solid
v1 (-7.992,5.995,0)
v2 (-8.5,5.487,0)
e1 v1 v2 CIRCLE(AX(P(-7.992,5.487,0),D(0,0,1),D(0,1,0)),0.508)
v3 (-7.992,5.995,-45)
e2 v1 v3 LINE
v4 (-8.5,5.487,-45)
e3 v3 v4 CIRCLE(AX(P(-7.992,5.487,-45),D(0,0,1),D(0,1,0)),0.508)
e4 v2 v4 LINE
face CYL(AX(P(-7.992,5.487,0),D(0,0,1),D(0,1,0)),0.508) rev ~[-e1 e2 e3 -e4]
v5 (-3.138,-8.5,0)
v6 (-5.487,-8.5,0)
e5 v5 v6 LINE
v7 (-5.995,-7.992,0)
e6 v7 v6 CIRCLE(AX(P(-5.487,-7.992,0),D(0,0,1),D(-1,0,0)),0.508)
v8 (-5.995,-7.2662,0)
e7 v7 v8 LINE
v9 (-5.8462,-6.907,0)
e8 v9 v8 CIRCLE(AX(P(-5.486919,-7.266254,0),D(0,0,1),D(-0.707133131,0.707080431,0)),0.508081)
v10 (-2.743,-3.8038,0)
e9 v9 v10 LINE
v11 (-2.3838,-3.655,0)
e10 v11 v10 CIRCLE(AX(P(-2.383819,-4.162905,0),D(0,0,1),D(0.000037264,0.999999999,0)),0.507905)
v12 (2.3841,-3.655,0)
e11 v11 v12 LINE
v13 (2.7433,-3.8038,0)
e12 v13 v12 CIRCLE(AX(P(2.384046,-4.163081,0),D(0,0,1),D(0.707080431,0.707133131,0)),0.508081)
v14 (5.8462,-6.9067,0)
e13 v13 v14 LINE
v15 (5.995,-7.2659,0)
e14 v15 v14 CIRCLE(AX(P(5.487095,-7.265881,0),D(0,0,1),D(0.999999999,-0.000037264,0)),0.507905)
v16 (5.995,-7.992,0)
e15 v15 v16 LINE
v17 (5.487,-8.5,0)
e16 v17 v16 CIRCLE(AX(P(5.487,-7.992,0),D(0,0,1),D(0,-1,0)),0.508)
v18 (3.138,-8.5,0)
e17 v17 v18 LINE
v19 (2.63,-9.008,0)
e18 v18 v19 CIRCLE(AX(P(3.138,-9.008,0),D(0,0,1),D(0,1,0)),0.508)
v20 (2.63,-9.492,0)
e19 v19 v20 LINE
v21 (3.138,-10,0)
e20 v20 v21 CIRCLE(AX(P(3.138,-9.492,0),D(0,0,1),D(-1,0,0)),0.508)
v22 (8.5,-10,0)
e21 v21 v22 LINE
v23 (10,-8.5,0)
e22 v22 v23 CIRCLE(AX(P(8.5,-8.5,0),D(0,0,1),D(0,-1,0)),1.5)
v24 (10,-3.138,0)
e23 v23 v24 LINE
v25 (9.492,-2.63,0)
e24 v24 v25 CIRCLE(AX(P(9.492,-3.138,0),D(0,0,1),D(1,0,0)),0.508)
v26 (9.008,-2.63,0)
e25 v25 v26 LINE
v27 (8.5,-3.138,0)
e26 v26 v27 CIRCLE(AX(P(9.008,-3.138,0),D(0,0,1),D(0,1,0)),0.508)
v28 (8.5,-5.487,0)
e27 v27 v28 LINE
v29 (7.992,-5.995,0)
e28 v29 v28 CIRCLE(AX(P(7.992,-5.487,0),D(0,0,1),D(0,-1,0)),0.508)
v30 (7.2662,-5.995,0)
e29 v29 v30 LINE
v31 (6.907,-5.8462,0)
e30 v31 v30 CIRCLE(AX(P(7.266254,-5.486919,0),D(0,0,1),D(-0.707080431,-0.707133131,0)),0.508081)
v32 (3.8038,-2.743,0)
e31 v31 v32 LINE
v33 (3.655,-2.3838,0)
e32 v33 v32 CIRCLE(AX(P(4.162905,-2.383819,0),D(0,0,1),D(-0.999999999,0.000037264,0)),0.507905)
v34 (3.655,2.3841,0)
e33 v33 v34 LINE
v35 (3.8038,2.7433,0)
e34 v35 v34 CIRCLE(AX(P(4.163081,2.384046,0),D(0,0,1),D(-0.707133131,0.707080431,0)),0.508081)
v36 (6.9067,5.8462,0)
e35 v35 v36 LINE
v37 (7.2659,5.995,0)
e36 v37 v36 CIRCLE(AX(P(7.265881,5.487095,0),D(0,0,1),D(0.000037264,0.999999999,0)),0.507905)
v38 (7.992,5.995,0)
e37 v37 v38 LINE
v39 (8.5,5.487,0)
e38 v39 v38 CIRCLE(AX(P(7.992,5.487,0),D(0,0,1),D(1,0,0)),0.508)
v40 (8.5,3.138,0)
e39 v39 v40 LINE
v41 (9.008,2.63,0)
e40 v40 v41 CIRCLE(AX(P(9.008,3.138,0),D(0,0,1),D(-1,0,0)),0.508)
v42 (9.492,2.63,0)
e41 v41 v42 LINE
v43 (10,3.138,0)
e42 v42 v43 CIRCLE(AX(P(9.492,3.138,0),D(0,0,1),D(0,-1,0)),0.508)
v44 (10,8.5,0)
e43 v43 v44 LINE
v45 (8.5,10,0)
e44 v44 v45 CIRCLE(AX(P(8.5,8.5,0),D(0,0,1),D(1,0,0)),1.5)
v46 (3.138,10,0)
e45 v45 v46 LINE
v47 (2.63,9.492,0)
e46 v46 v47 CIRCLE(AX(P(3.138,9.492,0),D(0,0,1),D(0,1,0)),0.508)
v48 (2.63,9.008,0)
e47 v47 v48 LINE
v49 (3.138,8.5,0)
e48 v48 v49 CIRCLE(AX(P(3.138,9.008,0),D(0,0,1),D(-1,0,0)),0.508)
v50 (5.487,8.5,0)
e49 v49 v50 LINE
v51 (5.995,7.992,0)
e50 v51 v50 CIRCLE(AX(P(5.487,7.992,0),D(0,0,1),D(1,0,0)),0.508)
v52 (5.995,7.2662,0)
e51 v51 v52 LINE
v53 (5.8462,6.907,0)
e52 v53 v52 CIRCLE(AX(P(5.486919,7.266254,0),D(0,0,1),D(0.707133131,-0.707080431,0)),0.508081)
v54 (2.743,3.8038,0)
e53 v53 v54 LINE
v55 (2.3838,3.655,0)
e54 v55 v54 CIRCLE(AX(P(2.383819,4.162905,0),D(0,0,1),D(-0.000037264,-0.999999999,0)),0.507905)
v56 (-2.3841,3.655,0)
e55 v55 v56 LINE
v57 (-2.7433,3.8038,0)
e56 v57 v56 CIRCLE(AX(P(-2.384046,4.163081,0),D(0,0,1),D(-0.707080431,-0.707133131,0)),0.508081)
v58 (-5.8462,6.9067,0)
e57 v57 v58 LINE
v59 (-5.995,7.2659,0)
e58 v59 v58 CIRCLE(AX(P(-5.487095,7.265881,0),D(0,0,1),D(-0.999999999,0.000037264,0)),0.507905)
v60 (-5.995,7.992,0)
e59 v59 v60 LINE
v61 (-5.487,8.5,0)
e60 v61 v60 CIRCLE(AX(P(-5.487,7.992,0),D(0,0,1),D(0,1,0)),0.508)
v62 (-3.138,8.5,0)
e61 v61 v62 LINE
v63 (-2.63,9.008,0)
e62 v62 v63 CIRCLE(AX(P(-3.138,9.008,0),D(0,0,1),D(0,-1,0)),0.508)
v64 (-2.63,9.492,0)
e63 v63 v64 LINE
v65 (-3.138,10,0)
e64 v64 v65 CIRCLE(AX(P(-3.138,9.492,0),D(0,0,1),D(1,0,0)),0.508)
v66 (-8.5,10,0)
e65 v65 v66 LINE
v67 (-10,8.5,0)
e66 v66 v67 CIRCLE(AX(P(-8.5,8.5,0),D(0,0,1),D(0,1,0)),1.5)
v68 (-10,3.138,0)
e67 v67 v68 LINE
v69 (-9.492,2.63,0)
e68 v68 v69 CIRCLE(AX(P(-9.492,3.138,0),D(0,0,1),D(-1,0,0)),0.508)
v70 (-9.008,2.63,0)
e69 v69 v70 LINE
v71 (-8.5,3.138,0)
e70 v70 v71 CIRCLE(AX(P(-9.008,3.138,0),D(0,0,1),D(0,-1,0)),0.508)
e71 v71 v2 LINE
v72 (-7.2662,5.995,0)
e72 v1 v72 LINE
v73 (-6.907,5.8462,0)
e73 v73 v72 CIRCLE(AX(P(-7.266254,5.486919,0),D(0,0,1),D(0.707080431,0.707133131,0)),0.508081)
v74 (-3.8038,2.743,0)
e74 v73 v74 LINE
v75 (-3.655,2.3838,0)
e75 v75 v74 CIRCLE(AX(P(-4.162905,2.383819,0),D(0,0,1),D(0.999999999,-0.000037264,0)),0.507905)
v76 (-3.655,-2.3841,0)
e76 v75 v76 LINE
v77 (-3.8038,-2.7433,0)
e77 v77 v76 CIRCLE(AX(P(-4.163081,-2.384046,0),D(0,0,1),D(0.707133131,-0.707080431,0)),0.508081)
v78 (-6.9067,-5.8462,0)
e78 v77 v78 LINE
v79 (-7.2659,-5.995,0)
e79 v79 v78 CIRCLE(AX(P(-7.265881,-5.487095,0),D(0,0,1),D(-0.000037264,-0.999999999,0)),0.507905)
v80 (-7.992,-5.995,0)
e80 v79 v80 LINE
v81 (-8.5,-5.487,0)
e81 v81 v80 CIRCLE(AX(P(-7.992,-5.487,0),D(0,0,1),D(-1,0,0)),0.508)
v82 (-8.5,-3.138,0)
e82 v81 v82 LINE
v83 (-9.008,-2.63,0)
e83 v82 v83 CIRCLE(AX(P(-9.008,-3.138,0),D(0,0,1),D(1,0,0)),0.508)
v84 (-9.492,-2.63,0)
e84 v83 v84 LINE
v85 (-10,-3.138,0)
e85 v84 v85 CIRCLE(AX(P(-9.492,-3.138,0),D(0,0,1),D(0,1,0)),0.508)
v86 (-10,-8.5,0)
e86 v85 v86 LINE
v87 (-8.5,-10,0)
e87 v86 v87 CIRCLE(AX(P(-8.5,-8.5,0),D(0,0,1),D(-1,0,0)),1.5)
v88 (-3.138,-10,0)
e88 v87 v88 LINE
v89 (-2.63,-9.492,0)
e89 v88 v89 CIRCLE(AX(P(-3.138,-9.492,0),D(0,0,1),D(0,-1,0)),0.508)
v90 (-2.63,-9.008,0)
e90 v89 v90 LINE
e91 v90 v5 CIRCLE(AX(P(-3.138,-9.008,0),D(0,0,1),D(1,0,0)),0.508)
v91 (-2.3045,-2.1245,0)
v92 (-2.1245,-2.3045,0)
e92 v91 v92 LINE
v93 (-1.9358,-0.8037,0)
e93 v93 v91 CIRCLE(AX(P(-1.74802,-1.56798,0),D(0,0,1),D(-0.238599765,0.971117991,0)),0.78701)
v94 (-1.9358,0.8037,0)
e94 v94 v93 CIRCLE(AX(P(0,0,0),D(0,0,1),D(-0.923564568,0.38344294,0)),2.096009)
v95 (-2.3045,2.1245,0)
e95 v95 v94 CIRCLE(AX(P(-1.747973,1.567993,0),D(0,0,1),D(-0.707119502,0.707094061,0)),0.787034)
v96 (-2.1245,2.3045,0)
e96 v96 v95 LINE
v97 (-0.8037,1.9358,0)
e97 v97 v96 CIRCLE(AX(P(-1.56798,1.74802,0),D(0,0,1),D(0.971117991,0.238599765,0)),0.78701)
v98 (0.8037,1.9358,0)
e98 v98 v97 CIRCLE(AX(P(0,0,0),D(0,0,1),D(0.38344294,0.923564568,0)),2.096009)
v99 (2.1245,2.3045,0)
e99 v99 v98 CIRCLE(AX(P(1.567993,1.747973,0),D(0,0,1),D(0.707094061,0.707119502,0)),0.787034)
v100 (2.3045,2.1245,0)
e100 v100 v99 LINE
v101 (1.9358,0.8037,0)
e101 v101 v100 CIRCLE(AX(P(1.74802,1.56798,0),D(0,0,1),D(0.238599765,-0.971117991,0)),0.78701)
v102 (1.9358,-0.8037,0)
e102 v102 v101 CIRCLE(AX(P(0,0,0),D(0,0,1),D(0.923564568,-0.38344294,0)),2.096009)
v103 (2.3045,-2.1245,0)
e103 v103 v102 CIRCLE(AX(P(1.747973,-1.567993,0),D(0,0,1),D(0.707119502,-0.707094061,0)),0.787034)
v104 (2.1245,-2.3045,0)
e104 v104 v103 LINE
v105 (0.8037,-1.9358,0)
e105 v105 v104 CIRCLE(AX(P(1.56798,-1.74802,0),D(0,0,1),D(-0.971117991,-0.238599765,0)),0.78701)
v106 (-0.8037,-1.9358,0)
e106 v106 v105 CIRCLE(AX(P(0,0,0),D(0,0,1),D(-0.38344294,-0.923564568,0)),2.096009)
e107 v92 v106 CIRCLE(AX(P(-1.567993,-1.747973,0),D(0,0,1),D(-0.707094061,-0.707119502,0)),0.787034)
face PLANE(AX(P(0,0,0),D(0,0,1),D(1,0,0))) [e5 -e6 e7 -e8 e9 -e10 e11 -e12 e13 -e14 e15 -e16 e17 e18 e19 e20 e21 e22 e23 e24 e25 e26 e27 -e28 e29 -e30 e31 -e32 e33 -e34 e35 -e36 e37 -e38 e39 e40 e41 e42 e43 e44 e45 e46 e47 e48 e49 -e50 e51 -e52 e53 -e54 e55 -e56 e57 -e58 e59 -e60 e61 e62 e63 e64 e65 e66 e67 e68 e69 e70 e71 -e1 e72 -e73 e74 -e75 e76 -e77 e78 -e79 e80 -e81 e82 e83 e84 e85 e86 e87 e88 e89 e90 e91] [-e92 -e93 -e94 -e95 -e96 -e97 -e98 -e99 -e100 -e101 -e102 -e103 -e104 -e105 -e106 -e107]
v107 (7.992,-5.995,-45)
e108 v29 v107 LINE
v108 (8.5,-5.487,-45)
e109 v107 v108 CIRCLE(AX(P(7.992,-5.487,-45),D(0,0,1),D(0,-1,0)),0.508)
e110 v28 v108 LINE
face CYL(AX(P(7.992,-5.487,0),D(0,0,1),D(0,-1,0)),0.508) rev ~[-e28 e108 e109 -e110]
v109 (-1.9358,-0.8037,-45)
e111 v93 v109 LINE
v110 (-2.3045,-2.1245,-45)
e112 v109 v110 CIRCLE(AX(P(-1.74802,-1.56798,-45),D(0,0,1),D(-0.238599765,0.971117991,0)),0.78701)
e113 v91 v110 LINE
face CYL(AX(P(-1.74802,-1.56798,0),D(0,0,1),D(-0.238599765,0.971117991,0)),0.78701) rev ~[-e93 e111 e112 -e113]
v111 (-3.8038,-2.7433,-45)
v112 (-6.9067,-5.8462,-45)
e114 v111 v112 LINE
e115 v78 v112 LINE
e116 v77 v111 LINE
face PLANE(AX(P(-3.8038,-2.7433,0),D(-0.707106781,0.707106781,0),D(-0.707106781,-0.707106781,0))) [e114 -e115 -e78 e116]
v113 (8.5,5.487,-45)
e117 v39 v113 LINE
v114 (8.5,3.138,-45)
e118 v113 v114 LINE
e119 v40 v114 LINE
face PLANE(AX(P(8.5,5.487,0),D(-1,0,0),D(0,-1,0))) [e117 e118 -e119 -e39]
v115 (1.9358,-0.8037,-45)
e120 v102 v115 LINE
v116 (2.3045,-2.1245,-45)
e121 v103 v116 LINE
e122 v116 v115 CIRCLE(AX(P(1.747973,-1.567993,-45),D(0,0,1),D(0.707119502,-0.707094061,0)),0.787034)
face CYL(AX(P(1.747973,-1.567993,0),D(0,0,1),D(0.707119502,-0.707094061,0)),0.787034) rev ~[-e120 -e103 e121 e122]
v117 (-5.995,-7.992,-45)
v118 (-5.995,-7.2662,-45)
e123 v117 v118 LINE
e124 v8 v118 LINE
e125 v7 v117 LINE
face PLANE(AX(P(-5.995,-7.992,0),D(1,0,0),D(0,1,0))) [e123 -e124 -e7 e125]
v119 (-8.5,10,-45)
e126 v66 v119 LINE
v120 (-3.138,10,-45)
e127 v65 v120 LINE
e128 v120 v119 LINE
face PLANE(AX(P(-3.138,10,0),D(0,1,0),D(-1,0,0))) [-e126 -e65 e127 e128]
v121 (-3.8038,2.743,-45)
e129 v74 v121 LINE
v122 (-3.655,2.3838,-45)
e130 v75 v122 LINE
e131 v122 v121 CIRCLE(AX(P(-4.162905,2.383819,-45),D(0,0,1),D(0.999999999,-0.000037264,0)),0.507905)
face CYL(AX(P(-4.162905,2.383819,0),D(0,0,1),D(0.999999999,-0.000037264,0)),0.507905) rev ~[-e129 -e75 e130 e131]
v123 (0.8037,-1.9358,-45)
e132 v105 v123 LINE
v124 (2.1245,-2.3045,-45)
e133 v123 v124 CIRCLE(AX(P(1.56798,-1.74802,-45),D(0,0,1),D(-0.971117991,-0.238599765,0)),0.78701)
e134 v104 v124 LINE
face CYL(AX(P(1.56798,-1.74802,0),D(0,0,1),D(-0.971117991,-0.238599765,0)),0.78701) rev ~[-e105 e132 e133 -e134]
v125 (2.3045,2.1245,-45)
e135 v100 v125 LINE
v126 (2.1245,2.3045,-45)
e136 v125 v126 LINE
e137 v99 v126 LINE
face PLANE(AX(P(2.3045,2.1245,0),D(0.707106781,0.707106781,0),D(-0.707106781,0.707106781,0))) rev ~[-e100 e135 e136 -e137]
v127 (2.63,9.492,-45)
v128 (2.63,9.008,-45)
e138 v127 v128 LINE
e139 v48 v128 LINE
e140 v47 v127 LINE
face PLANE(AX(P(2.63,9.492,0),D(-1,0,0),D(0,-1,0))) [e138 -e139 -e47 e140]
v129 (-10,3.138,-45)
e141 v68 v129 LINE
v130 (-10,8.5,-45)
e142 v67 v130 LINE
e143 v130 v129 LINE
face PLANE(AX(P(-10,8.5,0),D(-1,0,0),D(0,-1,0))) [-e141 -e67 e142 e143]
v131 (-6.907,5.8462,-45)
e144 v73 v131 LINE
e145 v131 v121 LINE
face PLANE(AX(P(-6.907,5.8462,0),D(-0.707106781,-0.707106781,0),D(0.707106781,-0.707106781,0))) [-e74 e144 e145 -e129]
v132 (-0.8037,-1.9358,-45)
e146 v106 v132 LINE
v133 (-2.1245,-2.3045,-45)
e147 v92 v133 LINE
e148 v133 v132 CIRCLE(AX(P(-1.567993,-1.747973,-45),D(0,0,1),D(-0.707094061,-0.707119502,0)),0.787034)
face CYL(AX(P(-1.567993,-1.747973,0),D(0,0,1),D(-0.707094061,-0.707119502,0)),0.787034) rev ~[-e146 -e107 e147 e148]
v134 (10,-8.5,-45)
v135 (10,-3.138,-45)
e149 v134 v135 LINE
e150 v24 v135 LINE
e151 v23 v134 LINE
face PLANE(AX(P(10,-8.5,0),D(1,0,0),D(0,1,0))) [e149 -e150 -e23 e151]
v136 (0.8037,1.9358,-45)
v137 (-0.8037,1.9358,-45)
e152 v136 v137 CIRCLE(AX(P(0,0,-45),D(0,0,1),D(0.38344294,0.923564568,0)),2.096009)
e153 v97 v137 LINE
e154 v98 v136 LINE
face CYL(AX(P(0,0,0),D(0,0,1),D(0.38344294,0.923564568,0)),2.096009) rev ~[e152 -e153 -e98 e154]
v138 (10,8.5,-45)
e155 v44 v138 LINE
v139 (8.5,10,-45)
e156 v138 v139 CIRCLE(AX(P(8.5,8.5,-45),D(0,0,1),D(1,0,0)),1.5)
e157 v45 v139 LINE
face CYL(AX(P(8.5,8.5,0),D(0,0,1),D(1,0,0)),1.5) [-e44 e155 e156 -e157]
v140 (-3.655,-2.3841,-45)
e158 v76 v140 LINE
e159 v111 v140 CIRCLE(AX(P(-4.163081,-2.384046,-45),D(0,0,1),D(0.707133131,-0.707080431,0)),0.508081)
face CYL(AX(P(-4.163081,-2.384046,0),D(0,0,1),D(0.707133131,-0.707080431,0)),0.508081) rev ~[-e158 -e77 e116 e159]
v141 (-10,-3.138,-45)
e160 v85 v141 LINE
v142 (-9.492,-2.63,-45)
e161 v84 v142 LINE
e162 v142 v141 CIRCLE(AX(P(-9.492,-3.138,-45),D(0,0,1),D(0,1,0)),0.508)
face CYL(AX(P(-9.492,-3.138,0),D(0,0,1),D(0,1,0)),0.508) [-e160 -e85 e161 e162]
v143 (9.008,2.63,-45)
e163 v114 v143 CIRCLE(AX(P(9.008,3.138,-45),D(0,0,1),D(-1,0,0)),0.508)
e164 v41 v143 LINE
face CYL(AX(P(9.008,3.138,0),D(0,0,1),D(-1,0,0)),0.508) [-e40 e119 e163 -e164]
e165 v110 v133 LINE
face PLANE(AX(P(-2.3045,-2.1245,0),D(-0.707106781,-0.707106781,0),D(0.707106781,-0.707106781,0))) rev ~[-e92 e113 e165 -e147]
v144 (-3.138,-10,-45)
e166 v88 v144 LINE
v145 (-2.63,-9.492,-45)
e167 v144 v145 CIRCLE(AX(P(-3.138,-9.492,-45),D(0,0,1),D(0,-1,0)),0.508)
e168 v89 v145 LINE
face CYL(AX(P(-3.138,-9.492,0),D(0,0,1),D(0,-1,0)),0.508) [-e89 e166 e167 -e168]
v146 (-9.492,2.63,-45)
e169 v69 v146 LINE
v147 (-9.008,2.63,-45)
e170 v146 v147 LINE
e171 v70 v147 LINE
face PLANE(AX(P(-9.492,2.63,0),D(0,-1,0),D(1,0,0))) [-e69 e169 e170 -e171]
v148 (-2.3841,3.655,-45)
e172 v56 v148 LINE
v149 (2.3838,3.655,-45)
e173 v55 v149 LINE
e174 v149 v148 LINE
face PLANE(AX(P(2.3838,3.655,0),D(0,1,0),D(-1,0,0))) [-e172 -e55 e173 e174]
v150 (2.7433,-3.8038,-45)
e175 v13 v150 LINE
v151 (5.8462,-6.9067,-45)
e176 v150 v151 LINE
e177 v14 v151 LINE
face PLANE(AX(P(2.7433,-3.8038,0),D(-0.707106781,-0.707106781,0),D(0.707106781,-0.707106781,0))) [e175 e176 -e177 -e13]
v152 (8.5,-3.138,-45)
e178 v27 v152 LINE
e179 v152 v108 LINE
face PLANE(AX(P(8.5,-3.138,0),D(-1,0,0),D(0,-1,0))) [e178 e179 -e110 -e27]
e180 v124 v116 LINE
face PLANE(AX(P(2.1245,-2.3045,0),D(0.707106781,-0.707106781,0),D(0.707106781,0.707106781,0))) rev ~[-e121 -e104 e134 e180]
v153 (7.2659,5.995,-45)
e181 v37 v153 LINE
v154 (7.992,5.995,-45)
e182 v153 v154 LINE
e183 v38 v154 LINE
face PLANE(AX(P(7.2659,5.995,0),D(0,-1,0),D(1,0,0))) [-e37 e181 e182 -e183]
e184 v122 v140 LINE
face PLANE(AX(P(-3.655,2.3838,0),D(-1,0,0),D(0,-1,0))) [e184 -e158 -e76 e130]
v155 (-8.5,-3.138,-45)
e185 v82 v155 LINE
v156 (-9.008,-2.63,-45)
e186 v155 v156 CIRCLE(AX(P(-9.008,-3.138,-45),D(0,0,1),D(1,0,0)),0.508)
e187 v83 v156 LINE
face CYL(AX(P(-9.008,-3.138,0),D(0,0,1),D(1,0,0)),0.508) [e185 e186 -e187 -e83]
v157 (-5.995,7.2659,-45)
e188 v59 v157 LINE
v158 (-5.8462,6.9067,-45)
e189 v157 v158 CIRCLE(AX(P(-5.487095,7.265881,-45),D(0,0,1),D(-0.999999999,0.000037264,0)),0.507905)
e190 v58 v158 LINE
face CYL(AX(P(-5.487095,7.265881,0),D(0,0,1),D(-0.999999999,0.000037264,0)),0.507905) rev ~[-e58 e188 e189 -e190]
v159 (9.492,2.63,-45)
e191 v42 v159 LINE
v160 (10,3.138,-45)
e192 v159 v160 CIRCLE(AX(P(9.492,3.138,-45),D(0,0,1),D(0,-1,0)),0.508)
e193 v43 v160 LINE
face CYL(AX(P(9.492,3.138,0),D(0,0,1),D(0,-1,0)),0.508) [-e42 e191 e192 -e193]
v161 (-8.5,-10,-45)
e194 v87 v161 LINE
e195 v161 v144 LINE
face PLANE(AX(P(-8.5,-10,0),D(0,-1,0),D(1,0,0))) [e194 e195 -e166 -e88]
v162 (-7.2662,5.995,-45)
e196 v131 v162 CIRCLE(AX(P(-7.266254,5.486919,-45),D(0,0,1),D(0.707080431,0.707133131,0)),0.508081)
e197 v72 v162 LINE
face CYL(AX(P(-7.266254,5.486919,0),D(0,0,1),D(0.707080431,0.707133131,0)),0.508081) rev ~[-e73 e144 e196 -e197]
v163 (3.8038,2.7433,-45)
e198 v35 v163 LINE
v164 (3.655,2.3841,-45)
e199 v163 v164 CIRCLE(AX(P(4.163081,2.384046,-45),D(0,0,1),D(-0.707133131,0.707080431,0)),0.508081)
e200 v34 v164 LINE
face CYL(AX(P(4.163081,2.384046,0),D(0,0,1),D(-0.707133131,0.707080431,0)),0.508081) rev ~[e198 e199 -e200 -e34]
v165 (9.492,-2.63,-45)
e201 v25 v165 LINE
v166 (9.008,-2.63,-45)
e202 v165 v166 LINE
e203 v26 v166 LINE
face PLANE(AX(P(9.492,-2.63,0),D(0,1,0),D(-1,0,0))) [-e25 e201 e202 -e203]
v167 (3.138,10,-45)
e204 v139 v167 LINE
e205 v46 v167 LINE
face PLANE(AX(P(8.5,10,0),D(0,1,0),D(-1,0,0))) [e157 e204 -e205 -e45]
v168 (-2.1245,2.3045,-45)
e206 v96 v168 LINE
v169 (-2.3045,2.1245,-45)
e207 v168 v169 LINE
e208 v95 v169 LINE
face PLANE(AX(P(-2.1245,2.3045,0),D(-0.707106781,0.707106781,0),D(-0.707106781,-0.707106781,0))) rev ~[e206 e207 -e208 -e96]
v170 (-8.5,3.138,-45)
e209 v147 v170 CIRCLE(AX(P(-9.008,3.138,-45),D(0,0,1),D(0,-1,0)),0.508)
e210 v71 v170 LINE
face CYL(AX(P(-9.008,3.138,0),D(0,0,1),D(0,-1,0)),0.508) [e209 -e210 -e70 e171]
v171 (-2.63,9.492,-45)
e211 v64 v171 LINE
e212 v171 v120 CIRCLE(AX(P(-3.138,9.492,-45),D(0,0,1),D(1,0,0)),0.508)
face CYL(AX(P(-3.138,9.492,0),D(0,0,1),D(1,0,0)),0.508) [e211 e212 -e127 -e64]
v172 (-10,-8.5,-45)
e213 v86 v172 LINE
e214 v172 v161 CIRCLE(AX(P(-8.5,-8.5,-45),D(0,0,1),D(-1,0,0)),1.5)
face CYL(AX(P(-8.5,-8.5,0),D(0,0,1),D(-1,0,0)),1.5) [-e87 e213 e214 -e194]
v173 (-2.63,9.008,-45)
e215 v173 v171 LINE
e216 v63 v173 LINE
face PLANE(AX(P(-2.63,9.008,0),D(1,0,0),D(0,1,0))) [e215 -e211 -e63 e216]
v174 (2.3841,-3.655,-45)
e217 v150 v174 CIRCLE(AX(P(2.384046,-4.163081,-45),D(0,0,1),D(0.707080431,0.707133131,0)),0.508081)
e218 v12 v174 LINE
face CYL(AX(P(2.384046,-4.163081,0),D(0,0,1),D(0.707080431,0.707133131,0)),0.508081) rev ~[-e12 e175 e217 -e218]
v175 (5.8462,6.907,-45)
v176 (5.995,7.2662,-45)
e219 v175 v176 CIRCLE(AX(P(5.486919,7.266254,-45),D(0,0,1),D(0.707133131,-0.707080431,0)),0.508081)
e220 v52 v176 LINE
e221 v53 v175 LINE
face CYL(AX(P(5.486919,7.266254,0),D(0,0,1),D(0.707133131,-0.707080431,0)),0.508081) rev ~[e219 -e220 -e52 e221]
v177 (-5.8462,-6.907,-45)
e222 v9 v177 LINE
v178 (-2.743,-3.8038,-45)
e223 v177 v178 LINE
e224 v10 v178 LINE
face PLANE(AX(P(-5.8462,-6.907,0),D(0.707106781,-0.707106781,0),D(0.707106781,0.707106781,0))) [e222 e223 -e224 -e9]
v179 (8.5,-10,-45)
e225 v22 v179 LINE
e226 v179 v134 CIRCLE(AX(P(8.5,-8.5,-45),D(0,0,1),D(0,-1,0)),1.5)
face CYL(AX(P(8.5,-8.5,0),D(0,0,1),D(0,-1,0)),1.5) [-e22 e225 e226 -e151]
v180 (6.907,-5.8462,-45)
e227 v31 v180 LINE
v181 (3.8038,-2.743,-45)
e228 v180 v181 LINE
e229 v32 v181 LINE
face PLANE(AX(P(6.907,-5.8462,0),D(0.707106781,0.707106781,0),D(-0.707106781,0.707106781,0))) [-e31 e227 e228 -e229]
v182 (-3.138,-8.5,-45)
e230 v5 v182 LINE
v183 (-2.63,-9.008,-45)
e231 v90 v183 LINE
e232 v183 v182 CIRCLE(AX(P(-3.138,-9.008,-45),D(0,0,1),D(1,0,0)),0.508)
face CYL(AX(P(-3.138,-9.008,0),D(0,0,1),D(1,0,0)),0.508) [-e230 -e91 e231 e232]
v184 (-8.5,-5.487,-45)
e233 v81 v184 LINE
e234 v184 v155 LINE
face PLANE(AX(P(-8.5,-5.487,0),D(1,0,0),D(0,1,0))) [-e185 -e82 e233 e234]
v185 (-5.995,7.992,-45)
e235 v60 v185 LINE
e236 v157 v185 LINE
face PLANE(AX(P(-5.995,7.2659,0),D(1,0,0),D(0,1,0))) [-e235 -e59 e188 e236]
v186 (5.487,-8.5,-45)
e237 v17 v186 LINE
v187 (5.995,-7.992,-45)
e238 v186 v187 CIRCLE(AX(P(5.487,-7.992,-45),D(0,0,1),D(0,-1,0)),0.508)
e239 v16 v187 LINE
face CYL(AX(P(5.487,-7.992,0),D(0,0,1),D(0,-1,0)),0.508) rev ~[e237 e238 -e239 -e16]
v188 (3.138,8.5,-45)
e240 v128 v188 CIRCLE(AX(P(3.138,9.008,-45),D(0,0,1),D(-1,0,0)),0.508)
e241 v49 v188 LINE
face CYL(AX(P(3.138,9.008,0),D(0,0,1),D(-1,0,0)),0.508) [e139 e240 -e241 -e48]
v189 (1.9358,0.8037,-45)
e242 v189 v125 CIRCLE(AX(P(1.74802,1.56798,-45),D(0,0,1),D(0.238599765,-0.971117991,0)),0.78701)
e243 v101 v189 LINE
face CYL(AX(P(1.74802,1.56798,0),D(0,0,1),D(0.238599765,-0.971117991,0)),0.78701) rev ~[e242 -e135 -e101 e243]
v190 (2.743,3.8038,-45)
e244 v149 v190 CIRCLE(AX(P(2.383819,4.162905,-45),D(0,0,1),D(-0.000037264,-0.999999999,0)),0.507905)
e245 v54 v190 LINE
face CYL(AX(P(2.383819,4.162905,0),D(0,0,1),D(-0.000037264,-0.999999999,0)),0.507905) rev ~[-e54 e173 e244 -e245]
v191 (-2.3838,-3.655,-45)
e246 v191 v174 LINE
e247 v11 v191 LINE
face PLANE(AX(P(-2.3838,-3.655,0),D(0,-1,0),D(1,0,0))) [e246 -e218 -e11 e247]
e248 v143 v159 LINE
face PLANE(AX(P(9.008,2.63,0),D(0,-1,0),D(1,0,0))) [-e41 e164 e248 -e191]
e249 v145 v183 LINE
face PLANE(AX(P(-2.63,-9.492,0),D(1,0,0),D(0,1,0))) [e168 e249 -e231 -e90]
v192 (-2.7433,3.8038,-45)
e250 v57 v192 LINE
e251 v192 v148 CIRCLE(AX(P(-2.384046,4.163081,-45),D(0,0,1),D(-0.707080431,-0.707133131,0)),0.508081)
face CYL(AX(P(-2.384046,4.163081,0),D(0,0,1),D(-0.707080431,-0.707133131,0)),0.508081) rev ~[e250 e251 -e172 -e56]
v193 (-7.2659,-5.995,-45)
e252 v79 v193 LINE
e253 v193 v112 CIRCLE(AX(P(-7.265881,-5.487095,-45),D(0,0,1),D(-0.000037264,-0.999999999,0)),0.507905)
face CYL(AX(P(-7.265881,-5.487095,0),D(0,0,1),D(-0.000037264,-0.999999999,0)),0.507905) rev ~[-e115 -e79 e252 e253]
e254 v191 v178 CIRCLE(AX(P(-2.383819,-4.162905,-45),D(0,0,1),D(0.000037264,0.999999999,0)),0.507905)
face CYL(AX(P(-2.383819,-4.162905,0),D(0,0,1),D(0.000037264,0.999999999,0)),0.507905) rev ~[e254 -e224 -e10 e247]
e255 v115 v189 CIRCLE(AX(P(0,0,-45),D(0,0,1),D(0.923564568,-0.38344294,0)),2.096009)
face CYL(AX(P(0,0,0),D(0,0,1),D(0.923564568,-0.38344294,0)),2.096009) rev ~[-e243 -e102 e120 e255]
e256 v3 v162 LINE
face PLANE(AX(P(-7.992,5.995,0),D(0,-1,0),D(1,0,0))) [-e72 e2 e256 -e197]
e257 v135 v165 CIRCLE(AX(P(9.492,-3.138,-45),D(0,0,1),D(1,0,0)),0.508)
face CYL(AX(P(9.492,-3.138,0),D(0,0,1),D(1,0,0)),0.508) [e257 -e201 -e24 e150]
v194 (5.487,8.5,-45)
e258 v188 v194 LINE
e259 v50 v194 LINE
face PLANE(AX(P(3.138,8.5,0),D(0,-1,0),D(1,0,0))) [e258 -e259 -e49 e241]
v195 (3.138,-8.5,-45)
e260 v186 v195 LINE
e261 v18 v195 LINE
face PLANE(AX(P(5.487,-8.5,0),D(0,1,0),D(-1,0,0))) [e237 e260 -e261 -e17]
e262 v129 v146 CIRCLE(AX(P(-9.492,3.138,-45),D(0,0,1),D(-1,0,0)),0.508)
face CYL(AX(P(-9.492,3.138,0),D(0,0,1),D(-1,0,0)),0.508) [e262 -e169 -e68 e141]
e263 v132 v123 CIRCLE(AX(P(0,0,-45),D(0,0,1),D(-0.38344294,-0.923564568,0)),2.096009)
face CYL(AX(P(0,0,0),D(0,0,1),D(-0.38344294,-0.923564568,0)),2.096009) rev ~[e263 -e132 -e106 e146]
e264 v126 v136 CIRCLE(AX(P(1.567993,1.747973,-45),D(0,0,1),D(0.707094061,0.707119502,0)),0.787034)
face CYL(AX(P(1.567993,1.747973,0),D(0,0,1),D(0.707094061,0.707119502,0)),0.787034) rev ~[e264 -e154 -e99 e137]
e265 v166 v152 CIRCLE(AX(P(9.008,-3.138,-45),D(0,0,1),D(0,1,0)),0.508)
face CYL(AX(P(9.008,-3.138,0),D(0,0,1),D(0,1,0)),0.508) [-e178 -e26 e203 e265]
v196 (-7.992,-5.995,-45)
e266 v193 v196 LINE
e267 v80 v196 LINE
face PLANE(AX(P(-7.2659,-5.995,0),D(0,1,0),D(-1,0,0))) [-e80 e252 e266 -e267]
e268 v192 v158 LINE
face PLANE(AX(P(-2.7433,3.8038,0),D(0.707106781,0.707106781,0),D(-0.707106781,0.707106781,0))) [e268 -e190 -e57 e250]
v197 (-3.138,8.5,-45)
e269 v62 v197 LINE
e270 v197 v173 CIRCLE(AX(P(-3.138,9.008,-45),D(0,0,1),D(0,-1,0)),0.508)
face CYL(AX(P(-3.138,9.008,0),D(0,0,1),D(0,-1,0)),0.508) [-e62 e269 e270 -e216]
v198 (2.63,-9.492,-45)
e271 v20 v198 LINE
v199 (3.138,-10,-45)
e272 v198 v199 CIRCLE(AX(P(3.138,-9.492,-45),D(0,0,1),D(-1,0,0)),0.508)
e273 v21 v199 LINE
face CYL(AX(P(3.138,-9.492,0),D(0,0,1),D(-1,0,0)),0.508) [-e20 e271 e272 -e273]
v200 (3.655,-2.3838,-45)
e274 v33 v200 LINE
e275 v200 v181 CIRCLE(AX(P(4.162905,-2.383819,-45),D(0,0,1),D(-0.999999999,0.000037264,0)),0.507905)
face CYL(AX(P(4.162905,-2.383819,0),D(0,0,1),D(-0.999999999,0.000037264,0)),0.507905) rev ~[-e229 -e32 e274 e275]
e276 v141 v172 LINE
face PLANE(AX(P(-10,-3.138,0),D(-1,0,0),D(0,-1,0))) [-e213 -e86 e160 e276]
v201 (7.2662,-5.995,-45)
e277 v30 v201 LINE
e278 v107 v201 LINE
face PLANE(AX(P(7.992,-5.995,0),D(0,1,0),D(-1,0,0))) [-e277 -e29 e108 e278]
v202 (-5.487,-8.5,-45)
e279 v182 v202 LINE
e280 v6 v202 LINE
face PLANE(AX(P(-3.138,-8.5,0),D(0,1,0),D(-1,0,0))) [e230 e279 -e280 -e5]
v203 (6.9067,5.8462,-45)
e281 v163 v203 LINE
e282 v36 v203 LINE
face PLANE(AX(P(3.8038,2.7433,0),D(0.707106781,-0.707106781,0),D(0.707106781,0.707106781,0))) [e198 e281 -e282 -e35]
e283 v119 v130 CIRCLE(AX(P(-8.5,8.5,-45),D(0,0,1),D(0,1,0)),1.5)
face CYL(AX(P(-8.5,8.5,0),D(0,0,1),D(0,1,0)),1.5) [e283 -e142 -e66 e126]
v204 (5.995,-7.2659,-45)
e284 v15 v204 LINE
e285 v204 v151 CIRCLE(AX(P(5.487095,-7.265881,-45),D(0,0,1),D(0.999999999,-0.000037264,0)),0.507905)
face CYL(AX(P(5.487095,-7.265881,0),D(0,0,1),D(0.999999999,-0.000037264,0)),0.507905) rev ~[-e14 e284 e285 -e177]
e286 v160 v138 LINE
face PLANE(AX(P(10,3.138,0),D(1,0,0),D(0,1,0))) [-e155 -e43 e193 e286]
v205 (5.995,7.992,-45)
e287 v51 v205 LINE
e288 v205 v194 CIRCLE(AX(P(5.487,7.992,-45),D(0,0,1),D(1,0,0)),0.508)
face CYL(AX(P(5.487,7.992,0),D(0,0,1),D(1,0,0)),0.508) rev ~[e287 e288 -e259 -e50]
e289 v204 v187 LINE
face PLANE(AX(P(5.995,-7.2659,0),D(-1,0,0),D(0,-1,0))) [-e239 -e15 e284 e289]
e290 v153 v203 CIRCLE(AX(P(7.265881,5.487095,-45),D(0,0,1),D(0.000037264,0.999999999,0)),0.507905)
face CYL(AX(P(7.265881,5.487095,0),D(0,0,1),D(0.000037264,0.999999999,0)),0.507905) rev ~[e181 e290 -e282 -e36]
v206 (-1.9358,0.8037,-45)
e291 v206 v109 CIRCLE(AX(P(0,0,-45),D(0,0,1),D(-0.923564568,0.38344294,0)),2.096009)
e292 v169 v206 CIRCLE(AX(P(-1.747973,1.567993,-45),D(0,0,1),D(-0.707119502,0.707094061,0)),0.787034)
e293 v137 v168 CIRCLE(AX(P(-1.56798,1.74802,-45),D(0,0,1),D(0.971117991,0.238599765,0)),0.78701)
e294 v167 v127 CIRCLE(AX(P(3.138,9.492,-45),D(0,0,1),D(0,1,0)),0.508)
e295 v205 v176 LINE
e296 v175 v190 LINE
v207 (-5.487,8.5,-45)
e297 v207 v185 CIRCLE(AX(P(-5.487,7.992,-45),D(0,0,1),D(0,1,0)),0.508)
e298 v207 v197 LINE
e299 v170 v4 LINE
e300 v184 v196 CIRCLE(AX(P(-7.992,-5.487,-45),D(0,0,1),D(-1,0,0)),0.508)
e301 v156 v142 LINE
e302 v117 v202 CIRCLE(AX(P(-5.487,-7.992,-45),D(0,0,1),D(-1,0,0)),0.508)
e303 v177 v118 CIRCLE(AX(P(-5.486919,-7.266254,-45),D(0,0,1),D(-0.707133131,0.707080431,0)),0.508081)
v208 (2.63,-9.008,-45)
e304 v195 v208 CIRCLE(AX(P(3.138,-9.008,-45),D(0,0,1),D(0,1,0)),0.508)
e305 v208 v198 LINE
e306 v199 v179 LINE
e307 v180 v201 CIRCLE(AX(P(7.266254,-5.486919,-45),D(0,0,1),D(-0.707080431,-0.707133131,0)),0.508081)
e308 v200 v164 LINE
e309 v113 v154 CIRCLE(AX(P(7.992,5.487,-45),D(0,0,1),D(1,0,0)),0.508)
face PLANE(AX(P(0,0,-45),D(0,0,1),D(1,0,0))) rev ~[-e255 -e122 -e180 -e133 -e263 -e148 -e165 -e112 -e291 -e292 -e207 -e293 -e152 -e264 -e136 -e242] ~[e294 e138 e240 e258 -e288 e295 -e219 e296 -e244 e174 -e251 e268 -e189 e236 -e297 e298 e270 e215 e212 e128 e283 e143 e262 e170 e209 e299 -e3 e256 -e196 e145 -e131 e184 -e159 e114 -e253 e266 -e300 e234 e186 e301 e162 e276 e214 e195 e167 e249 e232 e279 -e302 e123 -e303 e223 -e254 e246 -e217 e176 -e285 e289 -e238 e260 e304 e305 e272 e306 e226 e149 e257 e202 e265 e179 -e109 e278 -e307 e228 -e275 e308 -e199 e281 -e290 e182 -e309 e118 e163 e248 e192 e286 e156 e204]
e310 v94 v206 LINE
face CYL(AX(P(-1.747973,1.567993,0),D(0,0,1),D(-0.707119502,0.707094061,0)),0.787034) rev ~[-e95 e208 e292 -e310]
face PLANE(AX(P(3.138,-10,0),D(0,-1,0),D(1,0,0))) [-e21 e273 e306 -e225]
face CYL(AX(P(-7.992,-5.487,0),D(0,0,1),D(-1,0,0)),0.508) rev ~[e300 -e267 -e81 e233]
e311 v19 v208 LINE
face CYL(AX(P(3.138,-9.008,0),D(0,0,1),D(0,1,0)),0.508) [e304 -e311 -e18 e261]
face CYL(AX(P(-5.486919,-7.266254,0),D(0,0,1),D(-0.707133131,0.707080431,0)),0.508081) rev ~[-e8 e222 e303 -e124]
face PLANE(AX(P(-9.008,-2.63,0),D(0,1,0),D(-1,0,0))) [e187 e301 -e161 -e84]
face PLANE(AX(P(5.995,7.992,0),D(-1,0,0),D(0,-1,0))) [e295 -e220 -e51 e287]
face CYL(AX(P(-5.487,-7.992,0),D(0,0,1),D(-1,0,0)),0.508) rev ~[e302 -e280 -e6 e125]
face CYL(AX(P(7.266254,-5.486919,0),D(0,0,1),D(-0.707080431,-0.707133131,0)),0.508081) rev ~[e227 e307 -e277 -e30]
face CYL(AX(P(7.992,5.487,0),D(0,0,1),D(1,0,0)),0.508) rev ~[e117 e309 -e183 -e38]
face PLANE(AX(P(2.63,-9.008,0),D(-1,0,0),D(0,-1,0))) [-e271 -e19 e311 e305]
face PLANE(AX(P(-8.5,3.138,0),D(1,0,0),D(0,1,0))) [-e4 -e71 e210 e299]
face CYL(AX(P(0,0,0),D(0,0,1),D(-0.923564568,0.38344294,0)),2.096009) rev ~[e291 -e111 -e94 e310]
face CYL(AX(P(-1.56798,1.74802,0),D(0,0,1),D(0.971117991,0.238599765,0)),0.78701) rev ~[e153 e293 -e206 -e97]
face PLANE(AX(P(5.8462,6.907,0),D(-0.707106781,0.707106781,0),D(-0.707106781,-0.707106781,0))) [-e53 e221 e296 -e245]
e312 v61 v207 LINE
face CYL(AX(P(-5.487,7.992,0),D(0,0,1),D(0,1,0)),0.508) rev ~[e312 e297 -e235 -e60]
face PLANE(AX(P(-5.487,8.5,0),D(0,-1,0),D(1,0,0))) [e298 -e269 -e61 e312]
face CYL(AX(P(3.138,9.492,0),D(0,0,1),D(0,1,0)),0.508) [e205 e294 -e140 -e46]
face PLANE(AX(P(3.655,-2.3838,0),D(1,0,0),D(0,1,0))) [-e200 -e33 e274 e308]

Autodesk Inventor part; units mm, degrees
ref_plane "YZ Plane" through (0, 0, 0) normal (1, 0, 0) x (0, 1, 0)
ref_plane "XZ Plane" through (0, 0, 0) normal (0, 1, 0) x (-1, 0, 0)
ref_plane "XY Plane" through (0, 0, 0) normal (0, 0, 1) x (1, 0, 0)
sketch "Sketch_1" plane through (0, 0, 0) normal (0, 0, 1) x (1, 0, 0)
  arc A0 (-10, -8.5) -> (-8.5, -10) centre (-8.5, -8.5) ccw
  line L0 (-8.5, -10) -> (-3.138, -10)
  arc A1 (-3.138, -10) -> (-2.63, -9.492) centre (-3.138, -9.492) ccw
  line L1 (-2.63, -9.492) -> (-2.63, -9.008)
  arc A2 (-2.63, -9.008) -> (-3.138, -8.5) centre (-3.138, -9.008) ccw
  line L2 (-3.138, -8.5) -> (-5.487, -8.5)
  arc A3 (-5.995, -7.992) -> (-5.487, -8.5) centre (-5.487, -7.992) ccw
  line L3 (-5.995, -7.992) -> (-5.995, -7.2662)
  arc A4 (-5.8462, -6.907) -> (-5.995, -7.2662) centre (-5.487, -7.2662) ccw
  line L4 (-5.8462, -6.907) -> (-2.743, -3.8038)
  arc A5 (-2.3838, -3.655) -> (-2.743, -3.8038) centre (-2.3838, -4.163) ccw
  line L5 (-2.3838, -3.655) -> (2.3841, -3.655)
  arc A6 (2.7433, -3.8038) -> (2.3841, -3.655) centre (2.3841, -4.163) ccw
  line L6 (2.7433, -3.8038) -> (5.8462, -6.9067)
  arc A7 (5.995, -7.2659) -> (5.8462, -6.9067) centre (5.487, -7.2659) ccw
  line L7 (5.995, -7.2659) -> (5.995, -7.992)
  arc A8 (5.487, -8.5) -> (5.995, -7.992) centre (5.487, -7.992) ccw
  line L8 (5.487, -8.5) -> (3.138, -8.5)
  arc A9 (3.138, -8.5) -> (2.63, -9.008) centre (3.138, -9.008) ccw
  line L9 (2.63, -9.008) -> (2.63, -9.492)
  arc A10 (2.63, -9.492) -> (3.138, -10) centre (3.138, -9.492) ccw
  line L10 (3.138, -10) -> (8.5, -10)
  arc A11 (8.5, -10) -> (10, -8.5) centre (8.5, -8.5) ccw
  line L11 (10, -8.5) -> (10, -3.138)
  arc A12 (10, -3.138) -> (9.492, -2.63) centre (9.492, -3.138) ccw
  line L12 (9.492, -2.63) -> (9.008, -2.63)
  arc A13 (9.008, -2.63) -> (8.5, -3.138) centre (9.008, -3.138) ccw
  line L13 (8.5, -3.138) -> (8.5, -5.487)
  arc A14 (7.992, -5.995) -> (8.5, -5.487) centre (7.992, -5.487) ccw
  line L14 (7.992, -5.995) -> (7.2662, -5.995)
  arc A15 (6.907, -5.8462) -> (7.2662, -5.995) centre (7.2662, -5.487) ccw
  line L15 (6.907, -5.8462) -> (3.8038, -2.743)
  arc A16 (3.655, -2.3838) -> (3.8038, -2.743) centre (4.163, -2.3838) ccw
  line L16 (3.655, -2.3838) -> (3.655, 2.3841)
  arc A17 (3.8038, 2.7433) -> (3.655, 2.3841) centre (4.163, 2.3841) ccw
  line L17 (3.8038, 2.7433) -> (6.9067, 5.8462)
  arc A18 (7.2659, 5.995) -> (6.9067, 5.8462) centre (7.2659, 5.487) ccw
  line L18 (7.2659, 5.995) -> (7.992, 5.995)
  arc A19 (8.5, 5.487) -> (7.992, 5.995) centre (7.992, 5.487) ccw
  line L19 (8.5, 5.487) -> (8.5, 3.138)
  arc A20 (8.5, 3.138) -> (9.008, 2.63) centre (9.008, 3.138) ccw
  line L20 (9.008, 2.63) -> (9.492, 2.63)
  arc A21 (9.492, 2.63) -> (10, 3.138) centre (9.492, 3.138) ccw
  line L21 (10, 3.138) -> (10, 8.5)
  arc A22 (10, 8.5) -> (8.5, 10) centre (8.5, 8.5) ccw
  line L22 (8.5, 10) -> (3.138, 10)
  arc A23 (3.138, 10) -> (2.63, 9.492) centre (3.138, 9.492) ccw
  line L23 (2.63, 9.492) -> (2.63, 9.008)
  arc A24 (2.63, 9.008) -> (3.138, 8.5) centre (3.138, 9.008) ccw
  line L24 (3.138, 8.5) -> (5.487, 8.5)
  arc A25 (5.995, 7.992) -> (5.487, 8.5) centre (5.487, 7.992) ccw
  line L25 (5.995, 7.992) -> (5.995, 7.2662)
  arc A26 (5.8462, 6.907) -> (5.995, 7.2662) centre (5.487, 7.2662) ccw
  line L26 (5.8462, 6.907) -> (2.743, 3.8038)
  arc A27 (2.3838, 3.655) -> (2.743, 3.8038) centre (2.3838, 4.163) ccw
  line L27 (2.3838, 3.655) -> (-2.3841, 3.655)
  arc A28 (-2.7433, 3.8038) -> (-2.3841, 3.655) centre (-2.3841, 4.163) ccw
  line L28 (-2.7433, 3.8038) -> (-5.8462, 6.9067)
  arc A29 (-5.995, 7.2659) -> (-5.8462, 6.9067) centre (-5.487, 7.2659) ccw
  line L29 (-5.995, 7.2659) -> (-5.995, 7.992)
  arc A30 (-5.487, 8.5) -> (-5.995, 7.992) centre (-5.487, 7.992) ccw
  line L30 (-5.487, 8.5) -> (-3.138, 8.5)
  arc A31 (-3.138, 8.5) -> (-2.63, 9.008) centre (-3.138, 9.008) ccw
  line L31 (-2.63, 9.008) -> (-2.63, 9.492)
  arc A32 (-2.63, 9.492) -> (-3.138, 10) centre (-3.138, 9.492) ccw
  line L32 (-3.138, 10) -> (-8.5, 10)
  arc A33 (-8.5, 10) -> (-10, 8.5) centre (-8.5, 8.5) ccw
  line L33 (-10, 8.5) -> (-10, 3.138)
  arc A34 (-10, 3.138) -> (-9.492, 2.63) centre (-9.492, 3.138) ccw
  line L34 (-9.492, 2.63) -> (-9.008, 2.63)
  arc A35 (-9.008, 2.63) -> (-8.5, 3.138) centre (-9.008, 3.138) ccw
  line L35 (-8.5, 3.138) -> (-8.5, 5.487)
  arc A36 (-7.992, 5.995) -> (-8.5, 5.487) centre (-7.992, 5.487) ccw
  line L36 (-7.992, 5.995) -> (-7.2662, 5.995)
  arc A37 (-6.907, 5.8462) -> (-7.2662, 5.995) centre (-7.2662, 5.487) ccw
  line L37 (-6.907, 5.8462) -> (-3.8038, 2.743)
  arc A38 (-3.655, 2.3838) -> (-3.8038, 2.743) centre (-4.163, 2.3838) ccw
  line L38 (-3.655, 2.3838) -> (-3.655, -2.3841)
  arc A39 (-3.8038, -2.7433) -> (-3.655, -2.3841) centre (-4.163, -2.3841) ccw
  line L39 (-3.8038, -2.7433) -> (-6.9067, -5.8462)
  arc A40 (-7.2659, -5.995) -> (-6.9067, -5.8462) centre (-7.2659, -5.487) ccw
  line L40 (-7.2659, -5.995) -> (-7.992, -5.995)
  arc A41 (-8.5, -5.487) -> (-7.992, -5.995) centre (-7.992, -5.487) ccw
  line L41 (-8.5, -5.487) -> (-8.5, -3.138)
  arc A42 (-8.5, -3.138) -> (-9.008, -2.63) centre (-9.008, -3.138) ccw
  line L42 (-9.008, -2.63) -> (-9.492, -2.63)
  arc A43 (-9.492, -2.63) -> (-10, -3.138) centre (-9.492, -3.138) ccw
  line L43 (-10, -3.138) -> (-10, -8.5)
  arc A44 (-1.9358, -0.8037) -> (-2.3045, -2.1245) centre (-1.748, -1.568) ccw
  line L44 (-2.3045, -2.1245) -> (-2.1245, -2.3045)
  arc A45 (-2.1245, -2.3045) -> (-0.8037, -1.9358) centre (-1.568, -1.748) ccw
  arc A46 (-0.8037, -1.9358) -> (0.8037, -1.9358) centre (0, 0) ccw
  arc A47 (0.8037, -1.9358) -> (2.1245, -2.3045) centre (1.568, -1.748) ccw
  line L45 (2.1245, -2.3045) -> (2.3045, -2.1245)
  arc A48 (2.3045, -2.1245) -> (1.9358, -0.8037) centre (1.748, -1.568) ccw
  arc A49 (1.9358, -0.8037) -> (1.9358, 0.8037) centre (0, 0) ccw
  arc A50 (1.9358, 0.8037) -> (2.3045, 2.1245) centre (1.748, 1.568) ccw
  line L46 (2.3045, 2.1245) -> (2.1245, 2.3045)
  arc A51 (2.1245, 2.3045) -> (0.8037, 1.9358) centre (1.568, 1.748) ccw
  arc A52 (0.8037, 1.9358) -> (-0.8037, 1.9358) centre (0, 0) ccw
  arc A53 (-0.8037, 1.9358) -> (-2.1245, 2.3045) centre (-1.568, 1.748) ccw
  line L47 (-2.1245, 2.3045) -> (-2.3045, 2.1245)
  arc A54 (-2.3045, 2.1245) -> (-1.9358, 0.8037) centre (-1.748, 1.568) ccw
  arc A55 (-1.9358, 0.8037) -> (-1.9358, -0.8037) centre (0, 0) ccw
extrude "Extrusion1" add sketch "Sketch_1" against normal blind 45
properties part number "20-2020-45-CL"
